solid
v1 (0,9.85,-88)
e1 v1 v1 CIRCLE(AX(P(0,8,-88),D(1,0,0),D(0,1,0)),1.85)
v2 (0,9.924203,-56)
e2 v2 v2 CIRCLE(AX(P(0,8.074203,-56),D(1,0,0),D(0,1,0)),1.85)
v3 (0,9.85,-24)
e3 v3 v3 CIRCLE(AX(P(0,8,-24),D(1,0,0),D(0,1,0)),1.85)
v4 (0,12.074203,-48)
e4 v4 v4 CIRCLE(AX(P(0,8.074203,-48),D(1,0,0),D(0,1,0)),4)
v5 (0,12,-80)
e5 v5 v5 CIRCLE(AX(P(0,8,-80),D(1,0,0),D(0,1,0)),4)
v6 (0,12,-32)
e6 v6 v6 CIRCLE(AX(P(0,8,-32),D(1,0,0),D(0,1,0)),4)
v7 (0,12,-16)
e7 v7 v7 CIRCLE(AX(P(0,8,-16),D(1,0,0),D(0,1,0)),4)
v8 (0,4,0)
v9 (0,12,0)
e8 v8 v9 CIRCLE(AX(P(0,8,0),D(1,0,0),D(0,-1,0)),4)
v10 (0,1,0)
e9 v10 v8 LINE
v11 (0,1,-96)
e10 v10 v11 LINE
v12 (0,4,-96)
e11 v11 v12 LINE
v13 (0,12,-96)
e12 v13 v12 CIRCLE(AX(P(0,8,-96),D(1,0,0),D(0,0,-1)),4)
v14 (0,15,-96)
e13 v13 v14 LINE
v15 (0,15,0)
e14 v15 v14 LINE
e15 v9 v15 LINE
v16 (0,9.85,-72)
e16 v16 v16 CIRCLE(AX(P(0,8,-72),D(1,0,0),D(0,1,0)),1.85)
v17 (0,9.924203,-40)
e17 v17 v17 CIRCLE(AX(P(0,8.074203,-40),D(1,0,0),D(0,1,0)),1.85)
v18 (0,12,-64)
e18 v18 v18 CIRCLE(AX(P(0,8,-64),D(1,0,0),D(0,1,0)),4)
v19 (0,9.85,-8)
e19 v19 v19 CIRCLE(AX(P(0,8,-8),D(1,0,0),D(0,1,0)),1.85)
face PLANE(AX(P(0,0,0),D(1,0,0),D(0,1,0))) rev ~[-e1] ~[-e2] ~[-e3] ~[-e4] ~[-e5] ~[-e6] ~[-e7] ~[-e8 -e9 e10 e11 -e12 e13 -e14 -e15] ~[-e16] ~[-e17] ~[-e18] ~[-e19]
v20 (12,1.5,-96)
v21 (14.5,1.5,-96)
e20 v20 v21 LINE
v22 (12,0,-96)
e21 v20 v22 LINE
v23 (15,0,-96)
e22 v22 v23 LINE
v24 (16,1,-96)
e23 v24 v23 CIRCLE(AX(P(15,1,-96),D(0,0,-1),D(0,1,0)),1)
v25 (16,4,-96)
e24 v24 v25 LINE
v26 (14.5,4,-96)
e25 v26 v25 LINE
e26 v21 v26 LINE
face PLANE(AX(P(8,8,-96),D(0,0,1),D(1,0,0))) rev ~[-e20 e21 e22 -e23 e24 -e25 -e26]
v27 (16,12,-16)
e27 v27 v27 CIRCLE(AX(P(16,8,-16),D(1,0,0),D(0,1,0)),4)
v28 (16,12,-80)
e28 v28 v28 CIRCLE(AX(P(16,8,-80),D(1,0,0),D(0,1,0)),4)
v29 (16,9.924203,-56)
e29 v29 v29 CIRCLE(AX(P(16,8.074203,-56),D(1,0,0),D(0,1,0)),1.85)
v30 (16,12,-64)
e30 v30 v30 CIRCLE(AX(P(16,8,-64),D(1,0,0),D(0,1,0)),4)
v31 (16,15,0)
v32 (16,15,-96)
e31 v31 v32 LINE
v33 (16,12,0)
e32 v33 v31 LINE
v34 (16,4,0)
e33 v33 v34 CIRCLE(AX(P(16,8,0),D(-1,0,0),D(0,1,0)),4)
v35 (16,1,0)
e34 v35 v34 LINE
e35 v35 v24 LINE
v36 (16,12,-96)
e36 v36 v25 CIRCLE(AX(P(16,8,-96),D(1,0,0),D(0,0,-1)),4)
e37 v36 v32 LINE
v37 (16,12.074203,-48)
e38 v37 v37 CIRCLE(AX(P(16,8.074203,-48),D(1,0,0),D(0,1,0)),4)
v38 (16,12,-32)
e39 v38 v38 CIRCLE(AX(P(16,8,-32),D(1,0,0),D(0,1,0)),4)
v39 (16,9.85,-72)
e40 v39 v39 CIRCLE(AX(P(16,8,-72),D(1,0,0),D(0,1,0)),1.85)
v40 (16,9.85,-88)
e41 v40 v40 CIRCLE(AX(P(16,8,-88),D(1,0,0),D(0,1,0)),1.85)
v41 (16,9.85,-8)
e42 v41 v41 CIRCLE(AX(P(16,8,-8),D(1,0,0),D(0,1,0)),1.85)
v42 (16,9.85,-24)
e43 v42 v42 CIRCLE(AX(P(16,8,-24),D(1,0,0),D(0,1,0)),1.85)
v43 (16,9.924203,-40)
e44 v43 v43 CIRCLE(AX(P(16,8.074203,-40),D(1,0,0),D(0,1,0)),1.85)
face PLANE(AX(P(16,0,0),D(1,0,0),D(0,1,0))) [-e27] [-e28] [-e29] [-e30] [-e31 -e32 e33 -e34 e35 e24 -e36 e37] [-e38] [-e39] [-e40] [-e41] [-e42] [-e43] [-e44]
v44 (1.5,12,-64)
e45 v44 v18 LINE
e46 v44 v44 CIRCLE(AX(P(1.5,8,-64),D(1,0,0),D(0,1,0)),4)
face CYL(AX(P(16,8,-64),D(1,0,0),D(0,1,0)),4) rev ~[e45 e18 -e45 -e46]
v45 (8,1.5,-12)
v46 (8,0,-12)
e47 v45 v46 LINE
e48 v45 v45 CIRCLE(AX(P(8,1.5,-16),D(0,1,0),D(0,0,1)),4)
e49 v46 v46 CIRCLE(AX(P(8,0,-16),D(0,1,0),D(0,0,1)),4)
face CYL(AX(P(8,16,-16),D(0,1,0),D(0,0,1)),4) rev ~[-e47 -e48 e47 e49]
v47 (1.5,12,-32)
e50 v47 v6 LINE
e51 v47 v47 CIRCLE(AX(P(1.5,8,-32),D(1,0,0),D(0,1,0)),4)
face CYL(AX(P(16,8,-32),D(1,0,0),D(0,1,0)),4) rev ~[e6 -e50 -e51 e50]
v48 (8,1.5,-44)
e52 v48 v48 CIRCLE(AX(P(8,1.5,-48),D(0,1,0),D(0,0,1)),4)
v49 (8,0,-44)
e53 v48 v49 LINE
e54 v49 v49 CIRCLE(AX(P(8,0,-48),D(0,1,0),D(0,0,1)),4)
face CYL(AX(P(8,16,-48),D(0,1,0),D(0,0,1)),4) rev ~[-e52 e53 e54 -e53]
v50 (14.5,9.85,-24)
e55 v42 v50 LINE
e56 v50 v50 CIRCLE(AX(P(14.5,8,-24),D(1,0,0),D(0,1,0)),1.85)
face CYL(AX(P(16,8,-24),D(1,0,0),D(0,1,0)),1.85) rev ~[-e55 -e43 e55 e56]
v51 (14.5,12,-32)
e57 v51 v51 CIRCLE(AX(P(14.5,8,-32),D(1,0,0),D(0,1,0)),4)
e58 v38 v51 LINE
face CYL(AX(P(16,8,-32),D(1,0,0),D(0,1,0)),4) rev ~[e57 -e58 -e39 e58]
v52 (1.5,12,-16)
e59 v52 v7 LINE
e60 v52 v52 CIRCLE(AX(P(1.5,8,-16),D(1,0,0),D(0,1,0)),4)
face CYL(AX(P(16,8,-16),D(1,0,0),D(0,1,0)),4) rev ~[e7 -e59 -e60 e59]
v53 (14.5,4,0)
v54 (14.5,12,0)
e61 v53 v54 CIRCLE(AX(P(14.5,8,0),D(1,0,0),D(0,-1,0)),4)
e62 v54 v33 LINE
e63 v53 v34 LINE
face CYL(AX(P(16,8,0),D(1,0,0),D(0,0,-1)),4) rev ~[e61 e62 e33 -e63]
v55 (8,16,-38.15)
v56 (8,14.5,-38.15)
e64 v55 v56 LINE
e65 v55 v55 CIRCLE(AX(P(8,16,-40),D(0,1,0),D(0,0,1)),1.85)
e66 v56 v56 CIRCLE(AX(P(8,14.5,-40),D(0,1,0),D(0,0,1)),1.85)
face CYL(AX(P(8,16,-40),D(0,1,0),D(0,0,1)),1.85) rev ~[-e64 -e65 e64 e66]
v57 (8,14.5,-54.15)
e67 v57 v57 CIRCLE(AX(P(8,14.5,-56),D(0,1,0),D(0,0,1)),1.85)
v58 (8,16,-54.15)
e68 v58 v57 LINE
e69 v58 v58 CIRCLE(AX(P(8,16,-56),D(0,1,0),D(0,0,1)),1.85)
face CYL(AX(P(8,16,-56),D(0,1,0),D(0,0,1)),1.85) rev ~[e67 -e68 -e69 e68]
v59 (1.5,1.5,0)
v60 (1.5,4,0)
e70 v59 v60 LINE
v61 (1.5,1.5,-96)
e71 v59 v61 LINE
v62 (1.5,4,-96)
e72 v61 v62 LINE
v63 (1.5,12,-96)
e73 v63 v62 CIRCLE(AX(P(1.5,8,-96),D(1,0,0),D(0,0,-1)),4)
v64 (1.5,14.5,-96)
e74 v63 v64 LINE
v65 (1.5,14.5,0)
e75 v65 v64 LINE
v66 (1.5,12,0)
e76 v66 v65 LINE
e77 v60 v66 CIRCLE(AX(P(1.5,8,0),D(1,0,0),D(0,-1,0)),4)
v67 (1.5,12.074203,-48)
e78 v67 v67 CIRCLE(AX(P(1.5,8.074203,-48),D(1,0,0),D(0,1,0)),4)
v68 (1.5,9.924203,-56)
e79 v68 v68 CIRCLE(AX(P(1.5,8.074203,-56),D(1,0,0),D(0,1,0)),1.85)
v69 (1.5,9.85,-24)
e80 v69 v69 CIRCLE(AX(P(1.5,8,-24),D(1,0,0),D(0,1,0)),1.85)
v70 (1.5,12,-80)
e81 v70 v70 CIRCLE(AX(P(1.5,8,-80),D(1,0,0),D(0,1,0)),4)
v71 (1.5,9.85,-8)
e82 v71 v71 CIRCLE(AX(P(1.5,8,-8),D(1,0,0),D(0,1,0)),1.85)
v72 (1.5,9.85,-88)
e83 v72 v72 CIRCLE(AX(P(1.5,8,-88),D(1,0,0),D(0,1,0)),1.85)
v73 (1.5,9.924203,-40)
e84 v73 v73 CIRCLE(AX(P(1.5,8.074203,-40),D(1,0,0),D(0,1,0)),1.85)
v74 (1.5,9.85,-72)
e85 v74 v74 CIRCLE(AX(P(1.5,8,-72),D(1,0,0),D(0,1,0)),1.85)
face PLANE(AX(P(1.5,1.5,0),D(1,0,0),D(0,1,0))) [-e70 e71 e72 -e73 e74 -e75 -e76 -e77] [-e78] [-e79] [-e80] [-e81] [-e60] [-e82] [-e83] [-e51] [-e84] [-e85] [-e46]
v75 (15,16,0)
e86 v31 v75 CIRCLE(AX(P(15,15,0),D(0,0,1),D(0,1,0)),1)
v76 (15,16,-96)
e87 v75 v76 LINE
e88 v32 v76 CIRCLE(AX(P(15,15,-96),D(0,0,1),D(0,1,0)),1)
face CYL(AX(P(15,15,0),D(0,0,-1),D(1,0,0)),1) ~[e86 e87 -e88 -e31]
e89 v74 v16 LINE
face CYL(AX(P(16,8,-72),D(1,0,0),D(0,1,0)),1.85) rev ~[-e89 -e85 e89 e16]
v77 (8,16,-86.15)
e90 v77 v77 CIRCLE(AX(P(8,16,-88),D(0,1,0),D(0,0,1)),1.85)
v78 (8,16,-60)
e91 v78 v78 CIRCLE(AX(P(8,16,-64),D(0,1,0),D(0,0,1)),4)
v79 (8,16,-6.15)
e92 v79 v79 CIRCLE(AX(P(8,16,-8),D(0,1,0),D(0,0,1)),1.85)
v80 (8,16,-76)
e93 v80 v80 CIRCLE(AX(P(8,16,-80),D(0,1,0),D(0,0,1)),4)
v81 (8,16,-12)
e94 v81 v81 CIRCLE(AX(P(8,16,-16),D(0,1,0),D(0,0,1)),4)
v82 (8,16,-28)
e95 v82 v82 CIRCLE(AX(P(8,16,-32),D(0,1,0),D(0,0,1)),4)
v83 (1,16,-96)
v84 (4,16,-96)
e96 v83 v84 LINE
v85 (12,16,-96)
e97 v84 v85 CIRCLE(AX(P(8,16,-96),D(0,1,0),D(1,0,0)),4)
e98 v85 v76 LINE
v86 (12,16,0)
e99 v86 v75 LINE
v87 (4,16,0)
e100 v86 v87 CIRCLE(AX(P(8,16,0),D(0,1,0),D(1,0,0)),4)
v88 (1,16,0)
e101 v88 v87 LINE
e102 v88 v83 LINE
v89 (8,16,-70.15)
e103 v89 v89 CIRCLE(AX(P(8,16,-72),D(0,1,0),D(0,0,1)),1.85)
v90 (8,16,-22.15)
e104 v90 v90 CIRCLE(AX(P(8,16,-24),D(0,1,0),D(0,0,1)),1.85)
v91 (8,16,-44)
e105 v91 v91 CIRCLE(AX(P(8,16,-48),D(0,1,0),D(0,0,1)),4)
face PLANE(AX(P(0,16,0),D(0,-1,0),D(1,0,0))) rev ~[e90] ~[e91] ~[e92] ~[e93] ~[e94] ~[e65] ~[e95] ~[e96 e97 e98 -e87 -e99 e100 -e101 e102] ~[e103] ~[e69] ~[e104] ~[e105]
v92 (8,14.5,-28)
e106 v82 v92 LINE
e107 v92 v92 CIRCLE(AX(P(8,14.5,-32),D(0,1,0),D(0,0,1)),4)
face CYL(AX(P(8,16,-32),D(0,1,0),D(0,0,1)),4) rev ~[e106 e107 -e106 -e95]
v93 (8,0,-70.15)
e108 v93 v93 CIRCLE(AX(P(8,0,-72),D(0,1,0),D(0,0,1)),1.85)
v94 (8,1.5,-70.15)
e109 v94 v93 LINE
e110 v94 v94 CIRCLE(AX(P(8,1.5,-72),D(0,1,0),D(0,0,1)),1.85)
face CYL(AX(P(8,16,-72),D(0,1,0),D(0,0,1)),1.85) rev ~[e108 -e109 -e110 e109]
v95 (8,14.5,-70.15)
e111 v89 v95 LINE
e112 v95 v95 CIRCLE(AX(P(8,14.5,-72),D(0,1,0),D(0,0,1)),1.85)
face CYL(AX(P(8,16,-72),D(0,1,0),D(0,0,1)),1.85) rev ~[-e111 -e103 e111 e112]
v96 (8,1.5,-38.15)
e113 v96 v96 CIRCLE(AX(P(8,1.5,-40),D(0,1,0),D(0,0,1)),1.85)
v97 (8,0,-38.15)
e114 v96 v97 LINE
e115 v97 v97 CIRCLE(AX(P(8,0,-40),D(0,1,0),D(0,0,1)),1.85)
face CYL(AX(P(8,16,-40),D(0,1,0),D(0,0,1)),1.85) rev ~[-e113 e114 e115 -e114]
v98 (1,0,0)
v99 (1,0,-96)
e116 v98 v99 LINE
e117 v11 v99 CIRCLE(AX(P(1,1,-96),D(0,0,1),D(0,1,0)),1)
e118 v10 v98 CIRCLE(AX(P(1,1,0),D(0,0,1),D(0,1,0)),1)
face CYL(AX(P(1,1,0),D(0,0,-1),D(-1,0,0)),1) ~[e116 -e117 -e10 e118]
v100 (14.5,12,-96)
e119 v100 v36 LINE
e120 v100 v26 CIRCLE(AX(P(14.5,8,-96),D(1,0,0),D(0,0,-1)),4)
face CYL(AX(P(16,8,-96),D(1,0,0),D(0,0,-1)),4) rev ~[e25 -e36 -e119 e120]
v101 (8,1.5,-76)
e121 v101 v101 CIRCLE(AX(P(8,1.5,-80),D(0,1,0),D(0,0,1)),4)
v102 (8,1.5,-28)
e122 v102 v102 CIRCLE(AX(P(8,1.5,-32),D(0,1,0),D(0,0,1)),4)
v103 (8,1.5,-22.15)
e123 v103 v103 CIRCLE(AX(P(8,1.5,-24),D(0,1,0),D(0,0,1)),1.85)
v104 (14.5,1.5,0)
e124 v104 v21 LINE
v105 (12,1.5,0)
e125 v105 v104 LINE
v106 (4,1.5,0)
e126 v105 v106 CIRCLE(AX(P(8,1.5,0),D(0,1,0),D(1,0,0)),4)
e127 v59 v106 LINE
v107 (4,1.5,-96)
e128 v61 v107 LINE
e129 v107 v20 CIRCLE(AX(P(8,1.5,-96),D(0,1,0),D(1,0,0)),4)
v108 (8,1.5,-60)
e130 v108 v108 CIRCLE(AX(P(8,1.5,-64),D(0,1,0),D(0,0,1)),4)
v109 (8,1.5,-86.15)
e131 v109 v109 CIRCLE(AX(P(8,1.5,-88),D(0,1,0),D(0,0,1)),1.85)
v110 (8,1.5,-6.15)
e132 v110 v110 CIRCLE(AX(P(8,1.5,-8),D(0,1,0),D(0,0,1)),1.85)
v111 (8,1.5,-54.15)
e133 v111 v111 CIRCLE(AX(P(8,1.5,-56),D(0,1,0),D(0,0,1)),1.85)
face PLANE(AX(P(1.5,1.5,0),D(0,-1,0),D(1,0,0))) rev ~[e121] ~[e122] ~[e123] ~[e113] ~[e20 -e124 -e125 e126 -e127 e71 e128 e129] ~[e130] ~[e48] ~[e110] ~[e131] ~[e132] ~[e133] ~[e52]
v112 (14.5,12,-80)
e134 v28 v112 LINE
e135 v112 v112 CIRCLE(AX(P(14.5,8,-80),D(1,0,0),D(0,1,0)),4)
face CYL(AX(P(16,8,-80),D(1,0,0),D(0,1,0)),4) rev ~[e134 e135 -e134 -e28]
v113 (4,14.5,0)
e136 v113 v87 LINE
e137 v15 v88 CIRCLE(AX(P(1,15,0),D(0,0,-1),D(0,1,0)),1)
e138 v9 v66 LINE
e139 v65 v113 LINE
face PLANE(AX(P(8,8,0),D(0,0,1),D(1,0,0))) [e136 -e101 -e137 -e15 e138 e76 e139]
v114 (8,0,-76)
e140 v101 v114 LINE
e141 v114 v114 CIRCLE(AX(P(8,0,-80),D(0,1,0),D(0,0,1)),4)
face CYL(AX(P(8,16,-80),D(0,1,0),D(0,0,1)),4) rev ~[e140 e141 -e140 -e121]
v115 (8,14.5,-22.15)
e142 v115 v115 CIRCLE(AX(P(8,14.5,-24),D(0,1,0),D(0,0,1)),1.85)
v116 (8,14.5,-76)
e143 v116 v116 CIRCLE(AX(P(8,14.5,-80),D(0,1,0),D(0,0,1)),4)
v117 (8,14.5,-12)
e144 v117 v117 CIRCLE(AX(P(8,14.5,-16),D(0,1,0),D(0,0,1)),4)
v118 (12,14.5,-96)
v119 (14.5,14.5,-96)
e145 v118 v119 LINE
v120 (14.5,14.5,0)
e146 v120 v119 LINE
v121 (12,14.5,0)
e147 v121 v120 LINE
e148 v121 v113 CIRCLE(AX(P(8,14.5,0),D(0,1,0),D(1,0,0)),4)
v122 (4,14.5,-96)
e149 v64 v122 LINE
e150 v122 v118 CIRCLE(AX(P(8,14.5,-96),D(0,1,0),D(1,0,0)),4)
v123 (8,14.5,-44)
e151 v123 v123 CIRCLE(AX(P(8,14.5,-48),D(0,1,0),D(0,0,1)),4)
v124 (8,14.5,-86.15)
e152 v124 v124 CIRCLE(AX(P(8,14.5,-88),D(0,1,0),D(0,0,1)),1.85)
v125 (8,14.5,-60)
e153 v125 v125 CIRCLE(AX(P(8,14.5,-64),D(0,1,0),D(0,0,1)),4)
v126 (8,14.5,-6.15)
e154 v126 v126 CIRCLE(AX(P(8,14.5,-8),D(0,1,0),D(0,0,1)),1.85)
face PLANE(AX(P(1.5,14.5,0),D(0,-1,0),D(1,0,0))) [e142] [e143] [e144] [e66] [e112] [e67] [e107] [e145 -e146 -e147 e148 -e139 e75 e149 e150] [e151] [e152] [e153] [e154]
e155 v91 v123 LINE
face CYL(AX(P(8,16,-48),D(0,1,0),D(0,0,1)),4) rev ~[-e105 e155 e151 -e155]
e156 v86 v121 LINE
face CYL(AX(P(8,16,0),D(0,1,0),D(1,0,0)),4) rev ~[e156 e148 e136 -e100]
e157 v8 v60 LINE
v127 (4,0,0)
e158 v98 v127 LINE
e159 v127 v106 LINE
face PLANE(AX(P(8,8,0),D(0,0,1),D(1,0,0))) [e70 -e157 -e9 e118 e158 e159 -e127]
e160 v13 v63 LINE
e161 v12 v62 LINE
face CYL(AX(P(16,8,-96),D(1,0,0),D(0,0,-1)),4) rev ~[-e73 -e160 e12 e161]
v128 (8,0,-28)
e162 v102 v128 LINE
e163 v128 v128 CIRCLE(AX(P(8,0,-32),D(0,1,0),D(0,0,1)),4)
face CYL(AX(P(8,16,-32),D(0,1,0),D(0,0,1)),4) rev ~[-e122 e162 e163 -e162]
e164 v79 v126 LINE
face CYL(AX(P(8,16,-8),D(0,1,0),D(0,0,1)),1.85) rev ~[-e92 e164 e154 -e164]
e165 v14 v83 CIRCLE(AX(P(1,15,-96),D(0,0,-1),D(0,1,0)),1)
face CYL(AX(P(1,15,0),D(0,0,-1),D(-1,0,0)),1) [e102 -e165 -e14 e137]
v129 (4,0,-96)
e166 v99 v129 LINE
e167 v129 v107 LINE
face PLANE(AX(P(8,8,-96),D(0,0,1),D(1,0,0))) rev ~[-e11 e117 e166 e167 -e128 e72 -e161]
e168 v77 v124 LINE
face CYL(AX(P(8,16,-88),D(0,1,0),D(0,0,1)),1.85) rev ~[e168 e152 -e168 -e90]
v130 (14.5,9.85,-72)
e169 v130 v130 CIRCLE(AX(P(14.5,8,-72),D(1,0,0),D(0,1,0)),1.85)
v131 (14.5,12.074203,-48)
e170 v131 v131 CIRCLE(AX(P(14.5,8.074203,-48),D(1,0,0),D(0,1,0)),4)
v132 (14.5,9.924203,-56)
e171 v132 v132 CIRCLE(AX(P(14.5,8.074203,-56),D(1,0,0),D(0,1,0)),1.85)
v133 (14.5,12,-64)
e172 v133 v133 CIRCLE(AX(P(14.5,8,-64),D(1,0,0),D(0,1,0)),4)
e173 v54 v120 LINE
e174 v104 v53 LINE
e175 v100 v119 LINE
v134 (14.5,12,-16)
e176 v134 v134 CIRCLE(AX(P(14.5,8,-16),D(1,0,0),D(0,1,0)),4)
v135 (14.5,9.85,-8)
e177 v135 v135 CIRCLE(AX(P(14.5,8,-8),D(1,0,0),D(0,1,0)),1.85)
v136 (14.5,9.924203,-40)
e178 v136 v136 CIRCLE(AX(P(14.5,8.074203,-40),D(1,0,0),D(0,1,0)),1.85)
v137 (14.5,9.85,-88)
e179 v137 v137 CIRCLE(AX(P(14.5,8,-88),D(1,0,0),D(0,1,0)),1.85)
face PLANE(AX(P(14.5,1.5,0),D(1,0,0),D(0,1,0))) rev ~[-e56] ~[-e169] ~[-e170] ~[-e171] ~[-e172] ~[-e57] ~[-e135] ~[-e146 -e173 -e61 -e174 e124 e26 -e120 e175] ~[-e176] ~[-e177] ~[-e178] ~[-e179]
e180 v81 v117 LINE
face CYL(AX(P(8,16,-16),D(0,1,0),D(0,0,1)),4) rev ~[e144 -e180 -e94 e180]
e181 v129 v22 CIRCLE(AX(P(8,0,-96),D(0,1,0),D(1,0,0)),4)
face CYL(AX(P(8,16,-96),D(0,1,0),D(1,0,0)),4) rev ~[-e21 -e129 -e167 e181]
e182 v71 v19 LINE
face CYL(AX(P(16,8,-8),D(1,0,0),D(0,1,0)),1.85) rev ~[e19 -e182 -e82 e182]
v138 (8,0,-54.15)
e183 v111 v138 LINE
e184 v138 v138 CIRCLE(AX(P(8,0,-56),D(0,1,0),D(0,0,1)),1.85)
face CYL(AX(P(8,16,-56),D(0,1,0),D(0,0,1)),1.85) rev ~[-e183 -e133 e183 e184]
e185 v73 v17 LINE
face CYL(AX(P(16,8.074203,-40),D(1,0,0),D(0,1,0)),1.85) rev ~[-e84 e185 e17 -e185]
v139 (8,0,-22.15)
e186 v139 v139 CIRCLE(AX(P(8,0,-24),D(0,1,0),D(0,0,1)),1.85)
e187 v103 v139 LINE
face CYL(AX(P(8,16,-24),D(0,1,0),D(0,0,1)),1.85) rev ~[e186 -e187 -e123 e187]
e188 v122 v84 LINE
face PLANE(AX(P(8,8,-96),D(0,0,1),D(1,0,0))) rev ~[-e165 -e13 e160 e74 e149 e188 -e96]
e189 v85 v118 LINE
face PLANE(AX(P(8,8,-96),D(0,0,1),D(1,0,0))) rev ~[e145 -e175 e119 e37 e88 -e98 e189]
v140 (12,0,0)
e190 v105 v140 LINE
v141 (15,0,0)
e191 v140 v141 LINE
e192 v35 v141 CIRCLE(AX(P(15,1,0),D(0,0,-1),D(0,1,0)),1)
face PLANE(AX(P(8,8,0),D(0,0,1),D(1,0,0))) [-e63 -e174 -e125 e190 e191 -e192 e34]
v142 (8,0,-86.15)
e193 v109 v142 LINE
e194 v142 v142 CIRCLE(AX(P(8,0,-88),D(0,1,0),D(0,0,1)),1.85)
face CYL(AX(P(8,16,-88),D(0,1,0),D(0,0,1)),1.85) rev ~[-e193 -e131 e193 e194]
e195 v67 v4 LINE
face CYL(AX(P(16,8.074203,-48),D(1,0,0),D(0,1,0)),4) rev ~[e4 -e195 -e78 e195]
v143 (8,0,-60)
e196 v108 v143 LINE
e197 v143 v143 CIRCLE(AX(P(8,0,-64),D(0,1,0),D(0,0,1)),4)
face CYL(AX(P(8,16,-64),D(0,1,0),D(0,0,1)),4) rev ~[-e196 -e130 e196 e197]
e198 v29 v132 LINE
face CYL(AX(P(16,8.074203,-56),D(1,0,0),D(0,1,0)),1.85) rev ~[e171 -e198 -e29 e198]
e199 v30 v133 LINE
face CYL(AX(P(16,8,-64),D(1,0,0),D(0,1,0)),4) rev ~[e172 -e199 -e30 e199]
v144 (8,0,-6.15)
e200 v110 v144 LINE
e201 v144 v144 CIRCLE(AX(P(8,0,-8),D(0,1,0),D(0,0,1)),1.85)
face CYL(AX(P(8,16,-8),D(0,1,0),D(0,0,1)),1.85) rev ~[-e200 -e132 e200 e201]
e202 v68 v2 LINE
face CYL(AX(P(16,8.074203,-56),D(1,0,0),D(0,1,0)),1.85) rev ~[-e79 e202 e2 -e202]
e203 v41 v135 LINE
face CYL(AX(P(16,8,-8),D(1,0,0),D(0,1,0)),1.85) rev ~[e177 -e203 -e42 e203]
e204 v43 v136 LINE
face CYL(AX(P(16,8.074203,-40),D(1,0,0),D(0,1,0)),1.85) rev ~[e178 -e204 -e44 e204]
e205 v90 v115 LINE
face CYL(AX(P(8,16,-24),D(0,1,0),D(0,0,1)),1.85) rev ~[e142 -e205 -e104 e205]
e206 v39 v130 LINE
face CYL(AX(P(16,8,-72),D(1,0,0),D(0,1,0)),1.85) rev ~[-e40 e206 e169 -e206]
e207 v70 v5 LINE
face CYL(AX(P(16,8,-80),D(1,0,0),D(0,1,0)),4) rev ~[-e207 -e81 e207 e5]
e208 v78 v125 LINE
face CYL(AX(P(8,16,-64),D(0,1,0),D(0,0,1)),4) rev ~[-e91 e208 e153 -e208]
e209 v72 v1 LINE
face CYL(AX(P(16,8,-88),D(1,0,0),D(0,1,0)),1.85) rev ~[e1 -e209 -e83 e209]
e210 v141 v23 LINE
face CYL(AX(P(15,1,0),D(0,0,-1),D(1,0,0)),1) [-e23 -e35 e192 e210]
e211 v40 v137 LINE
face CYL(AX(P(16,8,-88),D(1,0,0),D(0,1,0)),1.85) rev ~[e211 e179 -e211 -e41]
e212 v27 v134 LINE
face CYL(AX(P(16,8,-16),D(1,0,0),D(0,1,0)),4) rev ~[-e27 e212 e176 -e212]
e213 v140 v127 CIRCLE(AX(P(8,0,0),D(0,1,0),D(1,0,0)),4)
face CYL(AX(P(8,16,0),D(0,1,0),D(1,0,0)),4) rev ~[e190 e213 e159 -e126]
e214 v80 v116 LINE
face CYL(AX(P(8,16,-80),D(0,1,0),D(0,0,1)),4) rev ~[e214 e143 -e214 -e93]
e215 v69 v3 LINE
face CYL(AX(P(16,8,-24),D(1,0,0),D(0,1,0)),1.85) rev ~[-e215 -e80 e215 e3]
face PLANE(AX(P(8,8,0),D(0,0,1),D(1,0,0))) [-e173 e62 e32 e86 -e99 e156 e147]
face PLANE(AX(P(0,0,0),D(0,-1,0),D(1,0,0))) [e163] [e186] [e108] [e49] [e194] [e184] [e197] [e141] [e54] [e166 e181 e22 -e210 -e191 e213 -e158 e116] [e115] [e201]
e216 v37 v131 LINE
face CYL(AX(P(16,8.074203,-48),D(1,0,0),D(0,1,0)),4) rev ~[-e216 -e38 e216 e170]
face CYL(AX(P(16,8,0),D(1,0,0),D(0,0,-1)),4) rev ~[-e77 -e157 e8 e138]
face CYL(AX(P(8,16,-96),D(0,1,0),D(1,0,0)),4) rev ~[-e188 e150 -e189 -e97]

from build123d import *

# Parameters (mm, degrees)
SKETCH1_W      = 16
SKETCH1_H      = 16
EXTRUDE1_DEPTH = 96
SKETCH2_W      = 13
SKETCH2_H      = 13
EXTRUDE2_DEPTH = 99.630624048
SKETCH3_R      = 4
SKETCH3_R_2    = 1.85
EXTRUDE3_DEPTH = 99.630624048
SKETCH4_R      = 4
SKETCH4_R_2    = 1.85
EXTRUDE4_DEPTH = 99.630624048
FILLET1_R      = 1


with BuildPart() as part:
    # Sketch1 → Extrude1 (new body)
    with BuildSketch(Plane.XY):
        with Locations((8, 8)):
            Rectangle(SKETCH1_W, SKETCH1_H)
    extrude(amount=-EXTRUDE1_DEPTH)

    # Sketch2 → Extrude2 (cut, through all)
    with BuildSketch(Plane.XY):
        with Locations((8, 8)):
            Rectangle(SKETCH2_W, SKETCH2_H)
    extrude(amount=-EXTRUDE2_DEPTH, mode=Mode.SUBTRACT)

    # Sketch3 → Extrude3 (cut, through all)
    with BuildSketch(Plane(origin=(0, 16, 0), x_dir=(1, 0, 0), z_dir=(0, 1, 0))):
        with Locations(Location((8, 64, 0), (0, 0, 270))):
            Circle(SKETCH3_R)
        with Locations(Location((8, 32, 0), (0, 0, 270))):
            Circle(SKETCH3_R)
        with Locations((8, 0)):
            Circle(SKETCH3_R)
        with Locations((8, 96)):
            Circle(SKETCH3_R)
        with Locations((8, 128)):
            Circle(SKETCH3_R)
        with Locations((8, 160)):
            Circle(SKETCH3_R)
        with Locations((8, 192)):
            Circle(SKETCH3_R)
        with Locations((8, 224)):
            Circle(SKETCH3_R)
        with Locations((8, 256)):
            Circle(SKETCH3_R)
        with Locations(Location((8, 48, 0), (0, 0, 270))):
            Circle(SKETCH3_R)
        with Locations(Location((8, 56, 0), (0, 0, 270))):
            Circle(SKETCH3_R_2)
        with Locations(Location((8, 40, 0), (0, 0, 270))):
            Circle(SKETCH3_R_2)
        with Locations(Location((8, 80, 0), (0, 0, 270))):
            Circle(SKETCH3_R)
        with Locations(Location((8, 88, 0), (0, 0, 270))):
            Circle(SKETCH3_R_2)
        with Locations(Location((8, 72, 0), (0, 0, 270))):
            Circle(SKETCH3_R_2)
        with Locations(Location((8, 16, 0), (0, 0, 270))):
            Circle(SKETCH3_R)
        with Locations(Location((8, 24, 0), (0, 0, 270))):
            Circle(SKETCH3_R_2)
        with Locations(Location((8, 8, 0), (0, 0, 270))):
            Circle(SKETCH3_R_2)
        with Locations((8, 112)):
            Circle(SKETCH3_R)
        with Locations((8, 120)):
            Circle(SKETCH3_R_2)
        with Locations((8, 104)):
            Circle(SKETCH3_R_2)
        with Locations((8, 144)):
            Circle(SKETCH3_R)
        with Locations((8, 152)):
            Circle(SKETCH3_R_2)
        with Locations((8, 136)):
            Circle(SKETCH3_R_2)
        with Locations((8, 176)):
            Circle(SKETCH3_R)
        with Locations((8, 184)):
            Circle(SKETCH3_R_2)
        with Locations((8, 168)):
            Circle(SKETCH3_R_2)
        with Locations((8, 208)):
            Circle(SKETCH3_R)
        with Locations((8, 216)):
            Circle(SKETCH3_R_2)
        with Locations((8, 200)):
            Circle(SKETCH3_R_2)
        with Locations((8, 240)):
            Circle(SKETCH3_R)
        with Locations((8, 248)):
            Circle(SKETCH3_R_2)
        with Locations((8, 232)):
            Circle(SKETCH3_R_2)
    extrude(amount=-EXTRUDE3_DEPTH, mode=Mode.SUBTRACT)

    # Sketch4 → Extrude4 (cut, through all)
    with BuildSketch(Plane(origin=(16, 0, 0), x_dir=(0, 0, -1), z_dir=(1, 0, 0))):
        with Locations(Location((32, 8, 0), (0, 0, 90))):
            Circle(SKETCH4_R)
        with Locations(Location((64, 8, 0), (0, 0, 90))):
            Circle(SKETCH4_R)
        with Locations((0, 8)):
            Circle(SKETCH4_R)
        with Locations((96, 8)):
            Circle(SKETCH4_R)
        with Locations((128, 8)):
            Circle(SKETCH4_R)
        with Locations((160, 8)):
            Circle(SKETCH4_R)
        with Locations((192, 8)):
            Circle(SKETCH4_R)
        with Locations((224, 8)):
            Circle(SKETCH4_R)
        with Locations((256, 8)):
            Circle(SKETCH4_R)
        with Locations(Location((48, 8.074203, 0), (0, 0, 90))):
            Circle(SKETCH4_R)
        with Locations(Location((40, 8.074203, 0), (0, 0, 90))):
            Circle(SKETCH4_R_2)
        with Locations(Location((56, 8.074203, 0), (0, 0, 90))):
            Circle(SKETCH4_R_2)
        with Locations(Location((80, 8, 0), (0, 0, 90))):
            Circle(SKETCH4_R)
        with Locations(Location((72, 8, 0), (0, 0, 90))):
            Circle(SKETCH4_R_2)
        with Locations(Location((88, 8, 0), (0, 0, 90))):
            Circle(SKETCH4_R_2)
        with Locations(Location((16, 8, 0), (0, 0, 90))):
            Circle(SKETCH4_R)
        with Locations(Location((8, 8, 0), (0, 0, 90))):
            Circle(SKETCH4_R_2)
        with Locations(Location((24, 8, 0), (0, 0, 90))):
            Circle(SKETCH4_R_2)
        with Locations((112, 8)):
            Circle(SKETCH4_R)
        with Locations((104, 8)):
            Circle(SKETCH4_R_2)
        with Locations((120, 8)):
            Circle(SKETCH4_R_2)
        with Locations((144, 8)):
            Circle(SKETCH4_R)
        with Locations((136, 8)):
            Circle(SKETCH4_R_2)
        with Locations((152, 8)):
            Circle(SKETCH4_R_2)
        with Locations((176, 8)):
            Circle(SKETCH4_R)
        with Locations((168, 8)):
            Circle(SKETCH4_R_2)
        with Locations((184, 8)):
            Circle(SKETCH4_R_2)
        with Locations((208, 8)):
            Circle(SKETCH4_R)
        with Locations((200, 8)):
            Circle(SKETCH4_R_2)
        with Locations((216, 8)):
            Circle(SKETCH4_R_2)
        with Locations((240, 8)):
            Circle(SKETCH4_R)
        with Locations((232, 8)):
            Circle(SKETCH4_R_2)
        with Locations((248, 8)):
            Circle(SKETCH4_R_2)
    extrude(amount=-EXTRUDE4_DEPTH, mode=Mode.SUBTRACT)

    # Fillet1
    fillet1_edges = [part.edges().sort_by_distance(p)[0] for p in [
        (0, 16, -48),
        (16, 16, -48),
        (16, 0, -48),
        (0, 0, -48),
    ]]
    fillet(fillet1_edges, radius=FILLET1_R)


solid = part.part
